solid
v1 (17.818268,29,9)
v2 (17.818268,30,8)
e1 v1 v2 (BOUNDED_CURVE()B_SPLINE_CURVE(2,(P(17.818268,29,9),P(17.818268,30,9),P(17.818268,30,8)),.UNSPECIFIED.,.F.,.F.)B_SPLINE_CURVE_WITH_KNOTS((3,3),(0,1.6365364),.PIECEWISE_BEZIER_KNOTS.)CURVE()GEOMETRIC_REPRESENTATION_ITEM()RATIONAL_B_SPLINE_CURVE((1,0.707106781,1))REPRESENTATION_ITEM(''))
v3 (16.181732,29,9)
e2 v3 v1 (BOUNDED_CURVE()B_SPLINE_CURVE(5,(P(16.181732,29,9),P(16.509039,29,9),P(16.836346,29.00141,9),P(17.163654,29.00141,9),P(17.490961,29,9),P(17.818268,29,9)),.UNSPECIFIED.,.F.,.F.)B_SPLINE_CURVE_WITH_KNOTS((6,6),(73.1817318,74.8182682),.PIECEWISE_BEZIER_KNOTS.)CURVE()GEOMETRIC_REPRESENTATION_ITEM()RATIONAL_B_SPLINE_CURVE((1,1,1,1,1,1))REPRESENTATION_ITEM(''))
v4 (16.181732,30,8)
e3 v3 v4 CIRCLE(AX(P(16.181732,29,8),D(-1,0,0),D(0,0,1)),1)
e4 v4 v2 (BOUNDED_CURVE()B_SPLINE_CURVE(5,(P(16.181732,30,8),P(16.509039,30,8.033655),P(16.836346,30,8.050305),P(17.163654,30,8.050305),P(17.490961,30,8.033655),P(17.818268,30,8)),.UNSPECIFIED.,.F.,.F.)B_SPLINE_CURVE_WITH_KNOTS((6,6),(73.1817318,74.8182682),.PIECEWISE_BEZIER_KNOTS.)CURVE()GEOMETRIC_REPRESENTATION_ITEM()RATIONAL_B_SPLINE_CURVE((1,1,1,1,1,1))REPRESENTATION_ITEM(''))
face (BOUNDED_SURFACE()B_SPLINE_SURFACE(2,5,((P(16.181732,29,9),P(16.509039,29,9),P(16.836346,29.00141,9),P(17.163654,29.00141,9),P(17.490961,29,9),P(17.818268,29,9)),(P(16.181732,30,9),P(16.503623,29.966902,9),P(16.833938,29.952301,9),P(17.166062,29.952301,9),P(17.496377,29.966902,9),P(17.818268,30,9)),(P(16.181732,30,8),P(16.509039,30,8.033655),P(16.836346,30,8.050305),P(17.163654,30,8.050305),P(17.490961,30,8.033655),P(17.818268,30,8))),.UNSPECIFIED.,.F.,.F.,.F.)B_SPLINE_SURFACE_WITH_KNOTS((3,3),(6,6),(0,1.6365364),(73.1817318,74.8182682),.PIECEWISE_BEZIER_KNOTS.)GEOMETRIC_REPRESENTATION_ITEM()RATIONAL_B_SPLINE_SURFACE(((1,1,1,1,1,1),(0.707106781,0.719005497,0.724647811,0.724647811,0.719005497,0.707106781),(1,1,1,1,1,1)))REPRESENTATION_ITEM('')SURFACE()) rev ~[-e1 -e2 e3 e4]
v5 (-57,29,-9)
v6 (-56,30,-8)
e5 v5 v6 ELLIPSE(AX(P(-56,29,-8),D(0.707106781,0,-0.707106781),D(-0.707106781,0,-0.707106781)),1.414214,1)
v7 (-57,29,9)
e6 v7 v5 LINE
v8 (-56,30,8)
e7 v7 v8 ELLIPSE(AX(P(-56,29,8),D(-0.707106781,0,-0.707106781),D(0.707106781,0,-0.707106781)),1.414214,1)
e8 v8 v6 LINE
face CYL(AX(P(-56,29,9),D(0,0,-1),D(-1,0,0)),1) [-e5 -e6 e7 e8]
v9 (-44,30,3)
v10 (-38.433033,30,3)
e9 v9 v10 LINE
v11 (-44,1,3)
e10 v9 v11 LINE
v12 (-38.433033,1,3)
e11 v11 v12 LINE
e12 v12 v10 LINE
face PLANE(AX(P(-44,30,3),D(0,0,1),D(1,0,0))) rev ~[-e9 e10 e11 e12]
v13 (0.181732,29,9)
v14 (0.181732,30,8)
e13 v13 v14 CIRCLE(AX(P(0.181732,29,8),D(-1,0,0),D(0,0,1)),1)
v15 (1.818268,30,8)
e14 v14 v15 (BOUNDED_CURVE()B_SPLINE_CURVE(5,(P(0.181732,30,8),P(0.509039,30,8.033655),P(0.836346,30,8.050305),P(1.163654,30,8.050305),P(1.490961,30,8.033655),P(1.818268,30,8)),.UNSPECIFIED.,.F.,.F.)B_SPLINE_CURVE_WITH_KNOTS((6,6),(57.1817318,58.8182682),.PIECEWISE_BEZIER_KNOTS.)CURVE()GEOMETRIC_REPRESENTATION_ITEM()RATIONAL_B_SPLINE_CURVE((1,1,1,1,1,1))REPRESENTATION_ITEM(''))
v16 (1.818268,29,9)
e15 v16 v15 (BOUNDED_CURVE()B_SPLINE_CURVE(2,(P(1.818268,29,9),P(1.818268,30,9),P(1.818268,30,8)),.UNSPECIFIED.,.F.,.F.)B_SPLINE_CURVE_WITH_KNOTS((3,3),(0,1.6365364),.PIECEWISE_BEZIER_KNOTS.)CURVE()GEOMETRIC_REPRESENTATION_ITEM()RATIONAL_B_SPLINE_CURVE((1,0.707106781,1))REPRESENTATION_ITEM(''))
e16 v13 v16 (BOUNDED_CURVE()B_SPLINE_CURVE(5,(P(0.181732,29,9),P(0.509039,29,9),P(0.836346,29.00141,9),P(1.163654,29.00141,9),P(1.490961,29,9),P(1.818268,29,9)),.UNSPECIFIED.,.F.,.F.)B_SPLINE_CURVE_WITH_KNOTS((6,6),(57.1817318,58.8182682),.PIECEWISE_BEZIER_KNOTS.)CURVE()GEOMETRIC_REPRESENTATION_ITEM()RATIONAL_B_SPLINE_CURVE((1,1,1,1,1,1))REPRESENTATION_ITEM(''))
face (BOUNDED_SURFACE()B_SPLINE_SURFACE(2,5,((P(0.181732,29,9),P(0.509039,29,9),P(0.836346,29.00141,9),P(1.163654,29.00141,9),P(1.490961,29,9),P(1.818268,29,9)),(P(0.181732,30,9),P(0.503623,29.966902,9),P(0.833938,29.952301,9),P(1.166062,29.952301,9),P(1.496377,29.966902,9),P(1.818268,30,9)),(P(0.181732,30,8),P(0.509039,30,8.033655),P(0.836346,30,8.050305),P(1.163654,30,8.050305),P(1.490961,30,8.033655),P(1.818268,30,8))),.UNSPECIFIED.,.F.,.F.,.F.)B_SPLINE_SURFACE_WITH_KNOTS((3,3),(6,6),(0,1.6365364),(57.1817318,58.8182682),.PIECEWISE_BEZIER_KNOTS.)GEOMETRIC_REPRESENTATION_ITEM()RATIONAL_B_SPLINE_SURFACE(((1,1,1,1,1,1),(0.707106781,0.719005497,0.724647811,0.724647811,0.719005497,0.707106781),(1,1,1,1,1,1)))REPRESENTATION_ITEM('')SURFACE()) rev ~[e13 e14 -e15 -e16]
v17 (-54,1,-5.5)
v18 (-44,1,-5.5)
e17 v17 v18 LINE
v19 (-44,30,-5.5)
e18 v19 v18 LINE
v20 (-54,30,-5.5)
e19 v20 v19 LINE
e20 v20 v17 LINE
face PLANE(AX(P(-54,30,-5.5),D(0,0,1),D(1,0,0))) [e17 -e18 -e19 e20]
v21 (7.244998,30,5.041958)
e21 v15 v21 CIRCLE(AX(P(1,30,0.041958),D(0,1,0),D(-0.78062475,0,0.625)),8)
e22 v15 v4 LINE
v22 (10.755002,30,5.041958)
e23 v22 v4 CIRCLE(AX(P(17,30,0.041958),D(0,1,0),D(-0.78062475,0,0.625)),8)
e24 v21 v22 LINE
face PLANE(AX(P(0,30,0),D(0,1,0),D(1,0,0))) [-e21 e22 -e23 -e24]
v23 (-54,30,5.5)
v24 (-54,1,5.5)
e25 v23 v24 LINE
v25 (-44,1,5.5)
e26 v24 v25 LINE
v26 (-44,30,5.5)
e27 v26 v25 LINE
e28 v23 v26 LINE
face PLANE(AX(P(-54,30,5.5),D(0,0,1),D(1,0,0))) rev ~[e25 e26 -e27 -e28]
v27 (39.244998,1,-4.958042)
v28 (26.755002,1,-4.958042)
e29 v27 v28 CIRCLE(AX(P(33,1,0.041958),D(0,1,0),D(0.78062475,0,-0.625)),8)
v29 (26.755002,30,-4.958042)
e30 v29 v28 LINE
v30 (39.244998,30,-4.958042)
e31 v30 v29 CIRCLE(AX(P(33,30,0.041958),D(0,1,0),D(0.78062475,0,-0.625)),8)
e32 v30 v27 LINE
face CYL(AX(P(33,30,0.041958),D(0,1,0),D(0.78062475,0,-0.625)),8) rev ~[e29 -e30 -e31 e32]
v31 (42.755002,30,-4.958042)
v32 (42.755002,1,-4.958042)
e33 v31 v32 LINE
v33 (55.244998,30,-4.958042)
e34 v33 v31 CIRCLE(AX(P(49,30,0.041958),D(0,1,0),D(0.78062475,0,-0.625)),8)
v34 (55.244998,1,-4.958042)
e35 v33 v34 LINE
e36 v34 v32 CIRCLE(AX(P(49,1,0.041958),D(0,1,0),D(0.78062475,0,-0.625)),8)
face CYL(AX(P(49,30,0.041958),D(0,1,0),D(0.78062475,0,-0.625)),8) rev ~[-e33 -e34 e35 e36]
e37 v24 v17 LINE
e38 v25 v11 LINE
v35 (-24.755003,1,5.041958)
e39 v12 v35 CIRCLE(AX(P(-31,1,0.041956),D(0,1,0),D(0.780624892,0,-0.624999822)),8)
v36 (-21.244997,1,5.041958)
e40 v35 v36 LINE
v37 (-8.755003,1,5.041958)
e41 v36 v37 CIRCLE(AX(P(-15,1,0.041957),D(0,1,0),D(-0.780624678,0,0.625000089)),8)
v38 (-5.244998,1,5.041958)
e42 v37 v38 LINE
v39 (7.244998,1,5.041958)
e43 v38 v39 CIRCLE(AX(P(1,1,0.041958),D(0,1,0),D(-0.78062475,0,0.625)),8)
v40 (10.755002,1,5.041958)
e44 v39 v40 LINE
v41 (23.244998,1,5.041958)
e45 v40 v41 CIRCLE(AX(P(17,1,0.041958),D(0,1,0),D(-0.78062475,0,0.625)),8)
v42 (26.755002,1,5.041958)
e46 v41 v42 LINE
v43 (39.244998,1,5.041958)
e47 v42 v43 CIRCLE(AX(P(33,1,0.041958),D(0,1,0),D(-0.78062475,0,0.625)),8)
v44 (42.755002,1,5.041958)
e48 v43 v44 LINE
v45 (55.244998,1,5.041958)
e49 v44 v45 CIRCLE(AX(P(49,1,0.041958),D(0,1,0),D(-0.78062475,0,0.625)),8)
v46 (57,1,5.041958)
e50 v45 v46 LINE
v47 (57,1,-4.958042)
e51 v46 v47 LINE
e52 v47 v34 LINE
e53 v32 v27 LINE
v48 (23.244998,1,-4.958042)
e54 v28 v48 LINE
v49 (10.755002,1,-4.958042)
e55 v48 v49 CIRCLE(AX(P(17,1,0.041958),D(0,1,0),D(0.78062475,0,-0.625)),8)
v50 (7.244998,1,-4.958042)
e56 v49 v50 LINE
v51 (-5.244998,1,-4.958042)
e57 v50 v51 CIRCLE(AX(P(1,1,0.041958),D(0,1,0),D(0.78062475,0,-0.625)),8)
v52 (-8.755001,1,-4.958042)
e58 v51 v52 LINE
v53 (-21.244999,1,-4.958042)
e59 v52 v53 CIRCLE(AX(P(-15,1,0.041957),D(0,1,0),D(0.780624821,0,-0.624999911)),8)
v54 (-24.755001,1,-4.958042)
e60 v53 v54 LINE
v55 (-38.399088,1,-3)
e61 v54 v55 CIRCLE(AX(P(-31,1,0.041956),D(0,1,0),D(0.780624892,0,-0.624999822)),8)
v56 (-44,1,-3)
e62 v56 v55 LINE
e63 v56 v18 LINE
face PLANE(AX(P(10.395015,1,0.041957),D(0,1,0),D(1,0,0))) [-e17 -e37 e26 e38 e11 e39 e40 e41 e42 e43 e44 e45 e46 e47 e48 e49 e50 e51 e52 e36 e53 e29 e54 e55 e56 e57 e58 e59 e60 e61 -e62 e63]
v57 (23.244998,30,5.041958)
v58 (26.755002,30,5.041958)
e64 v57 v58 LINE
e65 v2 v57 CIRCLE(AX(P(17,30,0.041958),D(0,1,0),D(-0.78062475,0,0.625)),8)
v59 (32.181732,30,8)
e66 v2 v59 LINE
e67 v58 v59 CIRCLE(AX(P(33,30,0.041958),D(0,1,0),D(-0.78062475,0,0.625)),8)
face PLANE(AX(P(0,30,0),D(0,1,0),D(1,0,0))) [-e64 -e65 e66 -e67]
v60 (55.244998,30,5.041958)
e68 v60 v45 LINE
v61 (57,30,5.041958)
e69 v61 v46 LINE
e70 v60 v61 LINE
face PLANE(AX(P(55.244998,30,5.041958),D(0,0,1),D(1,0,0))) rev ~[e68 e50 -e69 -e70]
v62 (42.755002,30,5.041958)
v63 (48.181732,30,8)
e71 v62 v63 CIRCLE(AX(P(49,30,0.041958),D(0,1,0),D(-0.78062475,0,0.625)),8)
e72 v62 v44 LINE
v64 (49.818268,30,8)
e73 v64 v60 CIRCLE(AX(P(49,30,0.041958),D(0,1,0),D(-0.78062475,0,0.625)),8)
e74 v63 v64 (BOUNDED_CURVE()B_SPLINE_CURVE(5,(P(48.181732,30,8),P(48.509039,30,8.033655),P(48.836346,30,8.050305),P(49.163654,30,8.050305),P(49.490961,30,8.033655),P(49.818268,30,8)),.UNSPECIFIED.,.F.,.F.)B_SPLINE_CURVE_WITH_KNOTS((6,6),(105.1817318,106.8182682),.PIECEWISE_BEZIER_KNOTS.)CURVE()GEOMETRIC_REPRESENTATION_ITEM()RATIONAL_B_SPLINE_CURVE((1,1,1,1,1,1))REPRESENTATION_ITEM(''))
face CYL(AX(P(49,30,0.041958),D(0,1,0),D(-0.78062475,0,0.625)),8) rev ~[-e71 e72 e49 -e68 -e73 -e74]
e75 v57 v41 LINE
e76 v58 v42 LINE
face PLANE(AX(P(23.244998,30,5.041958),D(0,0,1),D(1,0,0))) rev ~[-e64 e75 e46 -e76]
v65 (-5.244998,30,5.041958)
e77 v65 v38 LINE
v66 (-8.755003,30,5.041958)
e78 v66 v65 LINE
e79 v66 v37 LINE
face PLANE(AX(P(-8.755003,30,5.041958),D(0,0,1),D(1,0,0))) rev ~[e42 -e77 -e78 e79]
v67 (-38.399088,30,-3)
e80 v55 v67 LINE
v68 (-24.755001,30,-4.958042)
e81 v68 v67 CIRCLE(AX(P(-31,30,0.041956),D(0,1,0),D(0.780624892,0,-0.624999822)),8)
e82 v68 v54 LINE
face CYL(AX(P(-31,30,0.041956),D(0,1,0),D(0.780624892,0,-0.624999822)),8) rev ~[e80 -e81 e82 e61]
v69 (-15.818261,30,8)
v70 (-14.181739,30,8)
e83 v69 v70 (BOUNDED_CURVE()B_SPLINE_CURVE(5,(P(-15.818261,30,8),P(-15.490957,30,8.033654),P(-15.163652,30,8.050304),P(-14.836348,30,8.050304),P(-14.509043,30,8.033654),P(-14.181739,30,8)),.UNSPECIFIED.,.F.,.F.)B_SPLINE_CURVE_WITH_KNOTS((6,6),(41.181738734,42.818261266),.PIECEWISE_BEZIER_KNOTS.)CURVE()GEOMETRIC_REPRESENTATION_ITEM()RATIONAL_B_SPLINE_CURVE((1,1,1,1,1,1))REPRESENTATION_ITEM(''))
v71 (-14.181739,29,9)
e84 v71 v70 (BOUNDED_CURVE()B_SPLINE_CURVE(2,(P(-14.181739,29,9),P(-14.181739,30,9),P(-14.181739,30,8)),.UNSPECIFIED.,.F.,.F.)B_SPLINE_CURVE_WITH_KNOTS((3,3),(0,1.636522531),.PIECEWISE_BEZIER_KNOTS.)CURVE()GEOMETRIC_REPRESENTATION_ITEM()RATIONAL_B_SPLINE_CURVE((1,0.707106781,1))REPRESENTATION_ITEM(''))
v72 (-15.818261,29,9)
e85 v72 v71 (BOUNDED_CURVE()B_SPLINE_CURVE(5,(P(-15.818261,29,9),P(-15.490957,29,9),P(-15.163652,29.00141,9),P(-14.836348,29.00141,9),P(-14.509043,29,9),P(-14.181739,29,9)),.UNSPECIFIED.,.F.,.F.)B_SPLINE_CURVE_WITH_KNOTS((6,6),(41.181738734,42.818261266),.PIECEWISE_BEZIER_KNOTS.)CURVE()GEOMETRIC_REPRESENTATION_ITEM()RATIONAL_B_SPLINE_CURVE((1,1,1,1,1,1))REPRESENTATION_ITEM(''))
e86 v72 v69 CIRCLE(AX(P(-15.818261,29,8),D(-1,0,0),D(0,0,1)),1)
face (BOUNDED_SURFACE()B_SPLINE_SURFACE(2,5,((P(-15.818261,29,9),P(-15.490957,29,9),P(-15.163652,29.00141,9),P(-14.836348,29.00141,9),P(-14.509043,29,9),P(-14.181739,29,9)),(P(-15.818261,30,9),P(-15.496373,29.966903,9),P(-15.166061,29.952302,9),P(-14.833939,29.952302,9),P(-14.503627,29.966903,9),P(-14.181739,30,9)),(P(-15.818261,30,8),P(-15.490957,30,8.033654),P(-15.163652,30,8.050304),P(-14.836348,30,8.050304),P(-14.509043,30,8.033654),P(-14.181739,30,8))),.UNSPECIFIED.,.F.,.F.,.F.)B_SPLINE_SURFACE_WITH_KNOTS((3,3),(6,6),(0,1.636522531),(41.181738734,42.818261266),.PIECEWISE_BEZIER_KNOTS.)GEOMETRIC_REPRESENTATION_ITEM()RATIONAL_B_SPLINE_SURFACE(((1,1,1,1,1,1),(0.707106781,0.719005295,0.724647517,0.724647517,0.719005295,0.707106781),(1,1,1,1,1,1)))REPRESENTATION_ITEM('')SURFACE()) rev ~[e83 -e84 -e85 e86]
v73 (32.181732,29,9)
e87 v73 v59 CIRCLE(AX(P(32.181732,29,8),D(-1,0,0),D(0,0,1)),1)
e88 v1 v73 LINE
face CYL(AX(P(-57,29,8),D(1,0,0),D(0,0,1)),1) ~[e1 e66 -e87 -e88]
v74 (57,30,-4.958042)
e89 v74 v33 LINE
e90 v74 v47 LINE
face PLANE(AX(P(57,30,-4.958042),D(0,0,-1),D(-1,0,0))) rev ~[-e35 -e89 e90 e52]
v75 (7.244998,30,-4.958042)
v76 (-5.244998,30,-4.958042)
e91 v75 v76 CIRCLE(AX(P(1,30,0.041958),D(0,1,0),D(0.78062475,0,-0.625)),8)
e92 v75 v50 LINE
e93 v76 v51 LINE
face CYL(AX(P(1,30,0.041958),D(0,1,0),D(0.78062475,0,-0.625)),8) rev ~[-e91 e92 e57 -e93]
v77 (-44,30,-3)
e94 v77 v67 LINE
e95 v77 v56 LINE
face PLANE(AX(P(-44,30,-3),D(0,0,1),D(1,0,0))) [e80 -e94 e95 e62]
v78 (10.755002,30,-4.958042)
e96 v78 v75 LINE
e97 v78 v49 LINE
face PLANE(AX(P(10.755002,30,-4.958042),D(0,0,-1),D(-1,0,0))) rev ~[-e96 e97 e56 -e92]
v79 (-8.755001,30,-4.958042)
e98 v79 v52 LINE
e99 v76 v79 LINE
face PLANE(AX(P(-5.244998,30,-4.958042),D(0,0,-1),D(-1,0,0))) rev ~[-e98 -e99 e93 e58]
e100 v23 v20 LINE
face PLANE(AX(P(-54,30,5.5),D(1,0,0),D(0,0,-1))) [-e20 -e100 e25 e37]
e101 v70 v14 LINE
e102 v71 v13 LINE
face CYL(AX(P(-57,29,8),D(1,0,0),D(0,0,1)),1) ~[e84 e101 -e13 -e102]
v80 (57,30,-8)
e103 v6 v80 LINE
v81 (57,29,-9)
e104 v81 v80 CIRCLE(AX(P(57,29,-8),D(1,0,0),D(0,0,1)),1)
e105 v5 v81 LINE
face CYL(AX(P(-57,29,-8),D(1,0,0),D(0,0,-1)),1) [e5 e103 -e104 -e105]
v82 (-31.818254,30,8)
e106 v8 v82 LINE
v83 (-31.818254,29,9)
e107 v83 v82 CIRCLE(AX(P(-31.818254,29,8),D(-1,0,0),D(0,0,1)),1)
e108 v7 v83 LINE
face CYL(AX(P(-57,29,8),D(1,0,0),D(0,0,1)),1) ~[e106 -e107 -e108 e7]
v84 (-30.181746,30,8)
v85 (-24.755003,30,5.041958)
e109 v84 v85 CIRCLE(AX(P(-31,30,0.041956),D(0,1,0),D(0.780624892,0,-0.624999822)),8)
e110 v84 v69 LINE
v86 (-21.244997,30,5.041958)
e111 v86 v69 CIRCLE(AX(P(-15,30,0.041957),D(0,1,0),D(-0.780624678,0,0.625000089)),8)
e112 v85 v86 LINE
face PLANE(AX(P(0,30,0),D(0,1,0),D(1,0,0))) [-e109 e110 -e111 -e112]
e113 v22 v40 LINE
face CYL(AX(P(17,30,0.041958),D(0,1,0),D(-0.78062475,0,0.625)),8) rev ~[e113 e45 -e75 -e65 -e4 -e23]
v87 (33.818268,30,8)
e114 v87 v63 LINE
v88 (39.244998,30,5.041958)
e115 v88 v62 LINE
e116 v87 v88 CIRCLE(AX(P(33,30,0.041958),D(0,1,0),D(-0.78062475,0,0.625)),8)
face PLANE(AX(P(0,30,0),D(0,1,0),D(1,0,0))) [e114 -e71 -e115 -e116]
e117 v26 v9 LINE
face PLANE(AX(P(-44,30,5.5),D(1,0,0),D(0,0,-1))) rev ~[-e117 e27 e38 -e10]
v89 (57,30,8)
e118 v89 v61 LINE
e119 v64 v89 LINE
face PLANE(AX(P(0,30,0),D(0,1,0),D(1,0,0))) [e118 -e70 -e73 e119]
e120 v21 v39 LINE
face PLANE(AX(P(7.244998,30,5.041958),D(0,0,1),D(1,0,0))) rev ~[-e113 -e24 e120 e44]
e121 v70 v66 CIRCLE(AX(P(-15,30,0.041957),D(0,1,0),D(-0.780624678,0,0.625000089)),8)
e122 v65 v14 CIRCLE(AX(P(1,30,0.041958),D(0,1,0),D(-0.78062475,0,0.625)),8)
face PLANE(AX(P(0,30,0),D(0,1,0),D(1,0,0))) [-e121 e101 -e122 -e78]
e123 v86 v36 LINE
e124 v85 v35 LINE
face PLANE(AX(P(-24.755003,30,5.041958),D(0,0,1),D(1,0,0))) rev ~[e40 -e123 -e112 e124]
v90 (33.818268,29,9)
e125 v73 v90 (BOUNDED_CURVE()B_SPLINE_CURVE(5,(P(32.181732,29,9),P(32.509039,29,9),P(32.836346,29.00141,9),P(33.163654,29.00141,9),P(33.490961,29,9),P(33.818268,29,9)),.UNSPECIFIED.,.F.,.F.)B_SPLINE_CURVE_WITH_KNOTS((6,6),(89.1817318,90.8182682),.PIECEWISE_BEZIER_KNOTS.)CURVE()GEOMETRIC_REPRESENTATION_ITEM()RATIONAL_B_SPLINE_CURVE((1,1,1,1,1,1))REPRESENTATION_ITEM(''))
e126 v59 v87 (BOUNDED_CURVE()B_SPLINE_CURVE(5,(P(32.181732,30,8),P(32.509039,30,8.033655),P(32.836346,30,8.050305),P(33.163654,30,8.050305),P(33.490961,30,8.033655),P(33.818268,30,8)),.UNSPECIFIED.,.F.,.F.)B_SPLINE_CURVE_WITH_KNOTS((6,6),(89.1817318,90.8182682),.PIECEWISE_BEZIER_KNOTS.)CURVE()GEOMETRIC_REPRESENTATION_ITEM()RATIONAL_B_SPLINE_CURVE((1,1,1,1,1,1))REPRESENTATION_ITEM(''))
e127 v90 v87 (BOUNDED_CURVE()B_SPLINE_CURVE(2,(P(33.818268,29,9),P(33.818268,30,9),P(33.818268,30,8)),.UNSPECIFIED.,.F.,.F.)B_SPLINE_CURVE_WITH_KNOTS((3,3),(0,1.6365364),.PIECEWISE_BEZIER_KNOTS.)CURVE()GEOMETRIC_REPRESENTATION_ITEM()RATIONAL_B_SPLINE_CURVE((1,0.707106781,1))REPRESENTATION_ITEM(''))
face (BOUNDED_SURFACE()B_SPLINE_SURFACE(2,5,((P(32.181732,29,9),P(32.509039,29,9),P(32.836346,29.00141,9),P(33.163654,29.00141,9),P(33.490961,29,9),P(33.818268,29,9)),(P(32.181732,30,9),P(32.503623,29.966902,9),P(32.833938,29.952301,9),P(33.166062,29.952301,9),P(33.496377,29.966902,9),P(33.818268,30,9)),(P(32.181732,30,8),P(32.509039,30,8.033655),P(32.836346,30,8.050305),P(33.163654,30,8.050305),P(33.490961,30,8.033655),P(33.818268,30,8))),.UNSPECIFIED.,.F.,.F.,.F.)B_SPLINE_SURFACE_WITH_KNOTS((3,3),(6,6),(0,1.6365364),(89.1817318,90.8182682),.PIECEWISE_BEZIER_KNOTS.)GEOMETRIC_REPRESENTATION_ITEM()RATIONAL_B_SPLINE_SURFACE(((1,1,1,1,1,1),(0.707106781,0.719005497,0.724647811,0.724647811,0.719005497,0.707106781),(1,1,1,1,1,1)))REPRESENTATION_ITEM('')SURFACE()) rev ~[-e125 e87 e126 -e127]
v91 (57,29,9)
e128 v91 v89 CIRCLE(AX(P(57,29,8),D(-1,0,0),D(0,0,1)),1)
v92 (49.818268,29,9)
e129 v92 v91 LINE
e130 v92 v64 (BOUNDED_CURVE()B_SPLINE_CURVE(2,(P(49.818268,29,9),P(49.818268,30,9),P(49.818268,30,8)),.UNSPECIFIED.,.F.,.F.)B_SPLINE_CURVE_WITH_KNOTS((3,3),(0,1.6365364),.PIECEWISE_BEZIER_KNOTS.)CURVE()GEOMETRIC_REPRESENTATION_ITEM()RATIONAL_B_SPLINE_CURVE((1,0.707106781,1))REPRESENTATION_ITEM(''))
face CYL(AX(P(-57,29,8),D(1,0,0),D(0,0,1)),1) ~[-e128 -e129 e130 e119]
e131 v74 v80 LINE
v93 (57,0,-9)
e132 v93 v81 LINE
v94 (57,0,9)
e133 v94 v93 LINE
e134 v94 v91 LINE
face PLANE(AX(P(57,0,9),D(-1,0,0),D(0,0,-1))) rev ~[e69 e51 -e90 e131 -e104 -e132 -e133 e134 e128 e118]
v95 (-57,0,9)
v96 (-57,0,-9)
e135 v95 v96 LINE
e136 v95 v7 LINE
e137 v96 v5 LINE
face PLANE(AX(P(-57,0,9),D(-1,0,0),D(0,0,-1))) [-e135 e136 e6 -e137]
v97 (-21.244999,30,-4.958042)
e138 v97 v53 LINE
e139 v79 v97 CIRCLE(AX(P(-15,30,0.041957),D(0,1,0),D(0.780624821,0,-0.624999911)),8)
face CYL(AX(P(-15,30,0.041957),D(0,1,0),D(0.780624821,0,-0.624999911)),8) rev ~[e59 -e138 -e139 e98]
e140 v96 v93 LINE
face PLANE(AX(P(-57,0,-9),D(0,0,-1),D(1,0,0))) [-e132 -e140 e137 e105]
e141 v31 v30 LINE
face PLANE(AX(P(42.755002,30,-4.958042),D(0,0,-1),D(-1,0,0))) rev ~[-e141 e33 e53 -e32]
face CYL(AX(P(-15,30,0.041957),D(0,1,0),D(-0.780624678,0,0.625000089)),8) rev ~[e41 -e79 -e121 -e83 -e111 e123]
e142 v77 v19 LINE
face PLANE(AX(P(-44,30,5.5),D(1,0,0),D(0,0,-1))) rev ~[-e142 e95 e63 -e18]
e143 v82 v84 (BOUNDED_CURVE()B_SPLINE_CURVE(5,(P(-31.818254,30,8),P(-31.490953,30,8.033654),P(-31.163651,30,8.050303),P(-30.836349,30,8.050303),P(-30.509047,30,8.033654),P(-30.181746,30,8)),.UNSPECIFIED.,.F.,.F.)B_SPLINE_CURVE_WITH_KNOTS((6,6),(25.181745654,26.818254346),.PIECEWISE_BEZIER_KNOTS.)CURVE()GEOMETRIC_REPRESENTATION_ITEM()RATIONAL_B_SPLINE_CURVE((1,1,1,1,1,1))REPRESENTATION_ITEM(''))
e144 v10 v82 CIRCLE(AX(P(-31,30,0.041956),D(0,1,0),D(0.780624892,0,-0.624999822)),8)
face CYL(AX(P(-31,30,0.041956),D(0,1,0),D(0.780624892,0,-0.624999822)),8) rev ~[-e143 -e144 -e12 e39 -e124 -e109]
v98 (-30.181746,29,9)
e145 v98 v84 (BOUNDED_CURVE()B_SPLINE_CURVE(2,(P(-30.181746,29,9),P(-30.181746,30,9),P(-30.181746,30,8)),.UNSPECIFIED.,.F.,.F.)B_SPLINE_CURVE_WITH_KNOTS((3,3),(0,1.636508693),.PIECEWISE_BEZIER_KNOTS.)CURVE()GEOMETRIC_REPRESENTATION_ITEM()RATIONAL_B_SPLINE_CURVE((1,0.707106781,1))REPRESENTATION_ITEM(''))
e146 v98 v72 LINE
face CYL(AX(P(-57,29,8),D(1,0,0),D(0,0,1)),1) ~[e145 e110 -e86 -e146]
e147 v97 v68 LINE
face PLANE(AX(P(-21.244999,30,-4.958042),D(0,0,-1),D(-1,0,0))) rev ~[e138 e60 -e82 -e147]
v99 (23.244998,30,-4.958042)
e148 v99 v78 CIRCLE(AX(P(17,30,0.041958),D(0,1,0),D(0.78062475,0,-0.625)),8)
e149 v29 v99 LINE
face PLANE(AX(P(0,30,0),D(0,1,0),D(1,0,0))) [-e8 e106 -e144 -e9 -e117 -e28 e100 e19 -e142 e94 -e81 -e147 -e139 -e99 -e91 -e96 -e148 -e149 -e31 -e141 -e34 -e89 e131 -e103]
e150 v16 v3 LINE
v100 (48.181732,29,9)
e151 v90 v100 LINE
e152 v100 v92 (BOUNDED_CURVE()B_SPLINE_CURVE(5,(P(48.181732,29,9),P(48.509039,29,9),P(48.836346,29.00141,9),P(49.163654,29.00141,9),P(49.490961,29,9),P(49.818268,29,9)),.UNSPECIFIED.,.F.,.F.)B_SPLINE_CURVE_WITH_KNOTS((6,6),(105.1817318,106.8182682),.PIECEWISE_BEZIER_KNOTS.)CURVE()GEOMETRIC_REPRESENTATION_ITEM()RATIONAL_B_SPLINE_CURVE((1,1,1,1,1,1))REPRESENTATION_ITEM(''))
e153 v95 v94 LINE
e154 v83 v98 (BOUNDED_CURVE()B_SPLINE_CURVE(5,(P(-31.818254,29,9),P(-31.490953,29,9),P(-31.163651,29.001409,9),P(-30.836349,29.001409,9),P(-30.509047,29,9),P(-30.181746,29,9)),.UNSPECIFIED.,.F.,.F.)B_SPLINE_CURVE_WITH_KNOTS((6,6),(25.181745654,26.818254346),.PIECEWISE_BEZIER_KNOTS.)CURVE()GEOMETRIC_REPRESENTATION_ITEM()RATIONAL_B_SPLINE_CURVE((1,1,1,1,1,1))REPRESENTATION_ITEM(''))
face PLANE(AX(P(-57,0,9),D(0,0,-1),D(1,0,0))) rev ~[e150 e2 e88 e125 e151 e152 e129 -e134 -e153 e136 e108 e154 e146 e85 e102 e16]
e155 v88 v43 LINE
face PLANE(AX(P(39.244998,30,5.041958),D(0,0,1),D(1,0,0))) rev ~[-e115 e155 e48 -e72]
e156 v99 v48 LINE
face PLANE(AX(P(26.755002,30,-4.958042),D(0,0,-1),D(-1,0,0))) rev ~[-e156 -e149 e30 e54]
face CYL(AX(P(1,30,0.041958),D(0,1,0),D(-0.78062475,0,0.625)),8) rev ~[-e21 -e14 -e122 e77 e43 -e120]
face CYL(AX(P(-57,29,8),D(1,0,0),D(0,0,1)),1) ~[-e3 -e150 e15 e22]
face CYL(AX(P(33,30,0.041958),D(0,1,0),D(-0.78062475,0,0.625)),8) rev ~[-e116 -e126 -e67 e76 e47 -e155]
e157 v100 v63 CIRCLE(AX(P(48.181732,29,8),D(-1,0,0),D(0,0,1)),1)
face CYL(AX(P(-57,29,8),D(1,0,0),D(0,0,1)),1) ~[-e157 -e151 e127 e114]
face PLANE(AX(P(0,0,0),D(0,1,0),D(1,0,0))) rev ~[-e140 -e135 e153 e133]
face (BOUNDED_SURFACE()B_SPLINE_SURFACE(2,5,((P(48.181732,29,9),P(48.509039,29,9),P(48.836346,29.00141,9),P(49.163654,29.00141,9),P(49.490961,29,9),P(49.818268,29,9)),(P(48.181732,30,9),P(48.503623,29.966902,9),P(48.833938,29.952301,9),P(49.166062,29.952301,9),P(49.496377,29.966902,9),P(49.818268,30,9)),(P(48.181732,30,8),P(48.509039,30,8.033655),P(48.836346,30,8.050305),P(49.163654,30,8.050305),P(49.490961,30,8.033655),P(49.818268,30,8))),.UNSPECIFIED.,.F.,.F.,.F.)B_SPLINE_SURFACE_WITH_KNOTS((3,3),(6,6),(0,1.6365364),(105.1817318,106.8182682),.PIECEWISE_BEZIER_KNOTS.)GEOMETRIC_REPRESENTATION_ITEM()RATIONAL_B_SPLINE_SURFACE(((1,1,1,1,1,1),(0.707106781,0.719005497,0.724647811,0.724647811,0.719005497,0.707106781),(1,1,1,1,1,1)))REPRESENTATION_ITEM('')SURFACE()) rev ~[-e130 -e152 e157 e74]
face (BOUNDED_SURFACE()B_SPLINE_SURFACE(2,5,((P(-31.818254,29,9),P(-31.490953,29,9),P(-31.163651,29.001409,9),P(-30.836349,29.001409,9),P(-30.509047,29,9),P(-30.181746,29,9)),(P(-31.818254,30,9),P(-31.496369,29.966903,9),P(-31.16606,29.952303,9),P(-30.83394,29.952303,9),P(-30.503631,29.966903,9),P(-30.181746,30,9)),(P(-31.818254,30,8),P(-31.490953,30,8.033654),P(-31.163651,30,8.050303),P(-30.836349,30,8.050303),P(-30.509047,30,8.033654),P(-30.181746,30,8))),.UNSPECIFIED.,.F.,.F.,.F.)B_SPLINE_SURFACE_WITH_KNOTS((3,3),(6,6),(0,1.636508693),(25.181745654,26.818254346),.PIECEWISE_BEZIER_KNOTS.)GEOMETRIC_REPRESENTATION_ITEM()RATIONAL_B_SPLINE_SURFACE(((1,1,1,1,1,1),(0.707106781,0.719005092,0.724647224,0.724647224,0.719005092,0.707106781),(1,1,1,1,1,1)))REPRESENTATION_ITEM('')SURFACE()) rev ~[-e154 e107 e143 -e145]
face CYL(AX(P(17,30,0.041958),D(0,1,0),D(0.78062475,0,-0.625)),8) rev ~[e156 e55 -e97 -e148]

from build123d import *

# Parameters (mm, degrees)
SKETCH1_W           = 114
SKETCH1_H           = 18
BOSS_EXTRUDE1_DEPTH = 30
CUT_EXTRUDE2_DEPTH  = 29
SKETCH4_W           = 6
SKETCH4_H           = 6
CUT_EXTRUDE4_DEPTH  = 29
FILLET1_R           = 1
SKETCH5_W           = 10
SKETCH5_H           = 11
CUT_EXTRUDE6_DEPTH  = 29


with BuildPart() as part:
    # Sketch1 → Boss-Extrude1 (new body)
    with BuildSketch(Plane(origin=(0, 0, 0), x_dir=(1, 0, 0), z_dir=(0, 1, 0))):
        Rectangle(SKETCH1_W, SKETCH1_H)
    extrude(amount=BOSS_EXTRUDE1_DEPTH)

    # Sketch2 → Cut-Extrude2 (cut)
    with BuildSketch(Plane(origin=(0, 30, 0), x_dir=(1, 0, 0), z_dir=(0, 1, 0))):
        with BuildLine():
            Line((-21.244998569, 4.958042294), (-24.755000861, 4.958042294))
            ThreePointArc((-24.755000861, 4.958042294), (-39, -0.041954456), (-24.755003142, -5.041957706))
            Line((-24.755003142, -5.041957706), (-21.244997428, -5.041957706))
            ThreePointArc((-21.244997428, -5.041957706), (-15, -8.041956993), (-8.755002572, -5.041957706))
            Line((-8.755002572, -5.041957706), (-5.244997998, -5.041957706))
            ThreePointArc((-5.244997998, -5.041957706), (1, -8.041957706), (7.244997998, -5.041957706))
            Line((7.244997998, -5.041957706), (10.755002002, -5.041957706))
            ThreePointArc((10.755002002, -5.041957706), (17, -8.041957706), (23.244997998, -5.041957706))
            Line((23.244997998, -5.041957706), (26.755002002, -5.041957706))
            ThreePointArc((26.755002002, -5.041957706), (33, -8.041957706), (39.244997998, -5.041957706))
            Line((39.244997998, -5.041957706), (42.755002002, -5.041957706))
            ThreePointArc((42.755002002, -5.041957706), (49, -8.041957706), (55.244997998, -5.041957706))
            Line((55.244997998, -5.041957706), (57, -5.041957706))
            Line((57, -5.041957706), (57, 4.958042294))
            Line((57, 4.958042294), (55.244997998, 4.958042294))
            ThreePointArc((55.244997998, 4.958042294), (49, 7.958042294), (42.755002002, 4.958042294))
            Line((42.755002002, 4.958042294), (39.244997998, 4.958042294))
            ThreePointArc((39.244997998, 4.958042294), (33, 7.958042294), (26.755002002, 4.958042294))
            Line((26.755002002, 4.958042294), (23.244997998, 4.958042294))
            ThreePointArc((23.244997998, 4.958042294), (17, 7.958042294), (10.755002002, 4.958042294))
            Line((10.755002002, 4.958042294), (7.244997998, 4.958042294))
            ThreePointArc((7.244997998, 4.958042294), (1, 7.958042294), (-5.244997998, 4.958042294))
            Line((-5.244997998, 4.958042294), (-8.755001431, 4.958042294))
            ThreePointArc((-8.755001431, 4.958042294), (-15, 7.958043007), (-21.244998569, 4.958042294))
        make_face()
    extrude(amount=-CUT_EXTRUDE2_DEPTH, mode=Mode.SUBTRACT)

    # Sketch4 → Cut-Extrude4 (cut)
    with BuildSketch(Plane(origin=(0, 30, 0), x_dir=(1, 0, 0), z_dir=(0, 1, 0))):
        with Locations((-41, 0)):
            Rectangle(SKETCH4_W, SKETCH4_H)
    extrude(amount=-CUT_EXTRUDE4_DEPTH, mode=Mode.SUBTRACT)

    # Fillet1
    fillet1_edges = [part.edges().sort_by_distance(p)[0] for p in [
        (-57, 30, 0),
        (0, 30, 9),
        (0, 30, -9),
    ]]
    fillet(fillet1_edges, radius=FILLET1_R)

    # Sketch5 → Cut-Extrude6 (cut)
    with BuildSketch(Plane(origin=(0, 30, 0), x_dir=(1, 0, 0), z_dir=(0, 1, 0))):
        with Locations((-49, 0)):
            Rectangle(SKETCH5_W, SKETCH5_H)
    extrude(amount=-CUT_EXTRUDE6_DEPTH, mode=Mode.SUBTRACT)


solid = part.part
